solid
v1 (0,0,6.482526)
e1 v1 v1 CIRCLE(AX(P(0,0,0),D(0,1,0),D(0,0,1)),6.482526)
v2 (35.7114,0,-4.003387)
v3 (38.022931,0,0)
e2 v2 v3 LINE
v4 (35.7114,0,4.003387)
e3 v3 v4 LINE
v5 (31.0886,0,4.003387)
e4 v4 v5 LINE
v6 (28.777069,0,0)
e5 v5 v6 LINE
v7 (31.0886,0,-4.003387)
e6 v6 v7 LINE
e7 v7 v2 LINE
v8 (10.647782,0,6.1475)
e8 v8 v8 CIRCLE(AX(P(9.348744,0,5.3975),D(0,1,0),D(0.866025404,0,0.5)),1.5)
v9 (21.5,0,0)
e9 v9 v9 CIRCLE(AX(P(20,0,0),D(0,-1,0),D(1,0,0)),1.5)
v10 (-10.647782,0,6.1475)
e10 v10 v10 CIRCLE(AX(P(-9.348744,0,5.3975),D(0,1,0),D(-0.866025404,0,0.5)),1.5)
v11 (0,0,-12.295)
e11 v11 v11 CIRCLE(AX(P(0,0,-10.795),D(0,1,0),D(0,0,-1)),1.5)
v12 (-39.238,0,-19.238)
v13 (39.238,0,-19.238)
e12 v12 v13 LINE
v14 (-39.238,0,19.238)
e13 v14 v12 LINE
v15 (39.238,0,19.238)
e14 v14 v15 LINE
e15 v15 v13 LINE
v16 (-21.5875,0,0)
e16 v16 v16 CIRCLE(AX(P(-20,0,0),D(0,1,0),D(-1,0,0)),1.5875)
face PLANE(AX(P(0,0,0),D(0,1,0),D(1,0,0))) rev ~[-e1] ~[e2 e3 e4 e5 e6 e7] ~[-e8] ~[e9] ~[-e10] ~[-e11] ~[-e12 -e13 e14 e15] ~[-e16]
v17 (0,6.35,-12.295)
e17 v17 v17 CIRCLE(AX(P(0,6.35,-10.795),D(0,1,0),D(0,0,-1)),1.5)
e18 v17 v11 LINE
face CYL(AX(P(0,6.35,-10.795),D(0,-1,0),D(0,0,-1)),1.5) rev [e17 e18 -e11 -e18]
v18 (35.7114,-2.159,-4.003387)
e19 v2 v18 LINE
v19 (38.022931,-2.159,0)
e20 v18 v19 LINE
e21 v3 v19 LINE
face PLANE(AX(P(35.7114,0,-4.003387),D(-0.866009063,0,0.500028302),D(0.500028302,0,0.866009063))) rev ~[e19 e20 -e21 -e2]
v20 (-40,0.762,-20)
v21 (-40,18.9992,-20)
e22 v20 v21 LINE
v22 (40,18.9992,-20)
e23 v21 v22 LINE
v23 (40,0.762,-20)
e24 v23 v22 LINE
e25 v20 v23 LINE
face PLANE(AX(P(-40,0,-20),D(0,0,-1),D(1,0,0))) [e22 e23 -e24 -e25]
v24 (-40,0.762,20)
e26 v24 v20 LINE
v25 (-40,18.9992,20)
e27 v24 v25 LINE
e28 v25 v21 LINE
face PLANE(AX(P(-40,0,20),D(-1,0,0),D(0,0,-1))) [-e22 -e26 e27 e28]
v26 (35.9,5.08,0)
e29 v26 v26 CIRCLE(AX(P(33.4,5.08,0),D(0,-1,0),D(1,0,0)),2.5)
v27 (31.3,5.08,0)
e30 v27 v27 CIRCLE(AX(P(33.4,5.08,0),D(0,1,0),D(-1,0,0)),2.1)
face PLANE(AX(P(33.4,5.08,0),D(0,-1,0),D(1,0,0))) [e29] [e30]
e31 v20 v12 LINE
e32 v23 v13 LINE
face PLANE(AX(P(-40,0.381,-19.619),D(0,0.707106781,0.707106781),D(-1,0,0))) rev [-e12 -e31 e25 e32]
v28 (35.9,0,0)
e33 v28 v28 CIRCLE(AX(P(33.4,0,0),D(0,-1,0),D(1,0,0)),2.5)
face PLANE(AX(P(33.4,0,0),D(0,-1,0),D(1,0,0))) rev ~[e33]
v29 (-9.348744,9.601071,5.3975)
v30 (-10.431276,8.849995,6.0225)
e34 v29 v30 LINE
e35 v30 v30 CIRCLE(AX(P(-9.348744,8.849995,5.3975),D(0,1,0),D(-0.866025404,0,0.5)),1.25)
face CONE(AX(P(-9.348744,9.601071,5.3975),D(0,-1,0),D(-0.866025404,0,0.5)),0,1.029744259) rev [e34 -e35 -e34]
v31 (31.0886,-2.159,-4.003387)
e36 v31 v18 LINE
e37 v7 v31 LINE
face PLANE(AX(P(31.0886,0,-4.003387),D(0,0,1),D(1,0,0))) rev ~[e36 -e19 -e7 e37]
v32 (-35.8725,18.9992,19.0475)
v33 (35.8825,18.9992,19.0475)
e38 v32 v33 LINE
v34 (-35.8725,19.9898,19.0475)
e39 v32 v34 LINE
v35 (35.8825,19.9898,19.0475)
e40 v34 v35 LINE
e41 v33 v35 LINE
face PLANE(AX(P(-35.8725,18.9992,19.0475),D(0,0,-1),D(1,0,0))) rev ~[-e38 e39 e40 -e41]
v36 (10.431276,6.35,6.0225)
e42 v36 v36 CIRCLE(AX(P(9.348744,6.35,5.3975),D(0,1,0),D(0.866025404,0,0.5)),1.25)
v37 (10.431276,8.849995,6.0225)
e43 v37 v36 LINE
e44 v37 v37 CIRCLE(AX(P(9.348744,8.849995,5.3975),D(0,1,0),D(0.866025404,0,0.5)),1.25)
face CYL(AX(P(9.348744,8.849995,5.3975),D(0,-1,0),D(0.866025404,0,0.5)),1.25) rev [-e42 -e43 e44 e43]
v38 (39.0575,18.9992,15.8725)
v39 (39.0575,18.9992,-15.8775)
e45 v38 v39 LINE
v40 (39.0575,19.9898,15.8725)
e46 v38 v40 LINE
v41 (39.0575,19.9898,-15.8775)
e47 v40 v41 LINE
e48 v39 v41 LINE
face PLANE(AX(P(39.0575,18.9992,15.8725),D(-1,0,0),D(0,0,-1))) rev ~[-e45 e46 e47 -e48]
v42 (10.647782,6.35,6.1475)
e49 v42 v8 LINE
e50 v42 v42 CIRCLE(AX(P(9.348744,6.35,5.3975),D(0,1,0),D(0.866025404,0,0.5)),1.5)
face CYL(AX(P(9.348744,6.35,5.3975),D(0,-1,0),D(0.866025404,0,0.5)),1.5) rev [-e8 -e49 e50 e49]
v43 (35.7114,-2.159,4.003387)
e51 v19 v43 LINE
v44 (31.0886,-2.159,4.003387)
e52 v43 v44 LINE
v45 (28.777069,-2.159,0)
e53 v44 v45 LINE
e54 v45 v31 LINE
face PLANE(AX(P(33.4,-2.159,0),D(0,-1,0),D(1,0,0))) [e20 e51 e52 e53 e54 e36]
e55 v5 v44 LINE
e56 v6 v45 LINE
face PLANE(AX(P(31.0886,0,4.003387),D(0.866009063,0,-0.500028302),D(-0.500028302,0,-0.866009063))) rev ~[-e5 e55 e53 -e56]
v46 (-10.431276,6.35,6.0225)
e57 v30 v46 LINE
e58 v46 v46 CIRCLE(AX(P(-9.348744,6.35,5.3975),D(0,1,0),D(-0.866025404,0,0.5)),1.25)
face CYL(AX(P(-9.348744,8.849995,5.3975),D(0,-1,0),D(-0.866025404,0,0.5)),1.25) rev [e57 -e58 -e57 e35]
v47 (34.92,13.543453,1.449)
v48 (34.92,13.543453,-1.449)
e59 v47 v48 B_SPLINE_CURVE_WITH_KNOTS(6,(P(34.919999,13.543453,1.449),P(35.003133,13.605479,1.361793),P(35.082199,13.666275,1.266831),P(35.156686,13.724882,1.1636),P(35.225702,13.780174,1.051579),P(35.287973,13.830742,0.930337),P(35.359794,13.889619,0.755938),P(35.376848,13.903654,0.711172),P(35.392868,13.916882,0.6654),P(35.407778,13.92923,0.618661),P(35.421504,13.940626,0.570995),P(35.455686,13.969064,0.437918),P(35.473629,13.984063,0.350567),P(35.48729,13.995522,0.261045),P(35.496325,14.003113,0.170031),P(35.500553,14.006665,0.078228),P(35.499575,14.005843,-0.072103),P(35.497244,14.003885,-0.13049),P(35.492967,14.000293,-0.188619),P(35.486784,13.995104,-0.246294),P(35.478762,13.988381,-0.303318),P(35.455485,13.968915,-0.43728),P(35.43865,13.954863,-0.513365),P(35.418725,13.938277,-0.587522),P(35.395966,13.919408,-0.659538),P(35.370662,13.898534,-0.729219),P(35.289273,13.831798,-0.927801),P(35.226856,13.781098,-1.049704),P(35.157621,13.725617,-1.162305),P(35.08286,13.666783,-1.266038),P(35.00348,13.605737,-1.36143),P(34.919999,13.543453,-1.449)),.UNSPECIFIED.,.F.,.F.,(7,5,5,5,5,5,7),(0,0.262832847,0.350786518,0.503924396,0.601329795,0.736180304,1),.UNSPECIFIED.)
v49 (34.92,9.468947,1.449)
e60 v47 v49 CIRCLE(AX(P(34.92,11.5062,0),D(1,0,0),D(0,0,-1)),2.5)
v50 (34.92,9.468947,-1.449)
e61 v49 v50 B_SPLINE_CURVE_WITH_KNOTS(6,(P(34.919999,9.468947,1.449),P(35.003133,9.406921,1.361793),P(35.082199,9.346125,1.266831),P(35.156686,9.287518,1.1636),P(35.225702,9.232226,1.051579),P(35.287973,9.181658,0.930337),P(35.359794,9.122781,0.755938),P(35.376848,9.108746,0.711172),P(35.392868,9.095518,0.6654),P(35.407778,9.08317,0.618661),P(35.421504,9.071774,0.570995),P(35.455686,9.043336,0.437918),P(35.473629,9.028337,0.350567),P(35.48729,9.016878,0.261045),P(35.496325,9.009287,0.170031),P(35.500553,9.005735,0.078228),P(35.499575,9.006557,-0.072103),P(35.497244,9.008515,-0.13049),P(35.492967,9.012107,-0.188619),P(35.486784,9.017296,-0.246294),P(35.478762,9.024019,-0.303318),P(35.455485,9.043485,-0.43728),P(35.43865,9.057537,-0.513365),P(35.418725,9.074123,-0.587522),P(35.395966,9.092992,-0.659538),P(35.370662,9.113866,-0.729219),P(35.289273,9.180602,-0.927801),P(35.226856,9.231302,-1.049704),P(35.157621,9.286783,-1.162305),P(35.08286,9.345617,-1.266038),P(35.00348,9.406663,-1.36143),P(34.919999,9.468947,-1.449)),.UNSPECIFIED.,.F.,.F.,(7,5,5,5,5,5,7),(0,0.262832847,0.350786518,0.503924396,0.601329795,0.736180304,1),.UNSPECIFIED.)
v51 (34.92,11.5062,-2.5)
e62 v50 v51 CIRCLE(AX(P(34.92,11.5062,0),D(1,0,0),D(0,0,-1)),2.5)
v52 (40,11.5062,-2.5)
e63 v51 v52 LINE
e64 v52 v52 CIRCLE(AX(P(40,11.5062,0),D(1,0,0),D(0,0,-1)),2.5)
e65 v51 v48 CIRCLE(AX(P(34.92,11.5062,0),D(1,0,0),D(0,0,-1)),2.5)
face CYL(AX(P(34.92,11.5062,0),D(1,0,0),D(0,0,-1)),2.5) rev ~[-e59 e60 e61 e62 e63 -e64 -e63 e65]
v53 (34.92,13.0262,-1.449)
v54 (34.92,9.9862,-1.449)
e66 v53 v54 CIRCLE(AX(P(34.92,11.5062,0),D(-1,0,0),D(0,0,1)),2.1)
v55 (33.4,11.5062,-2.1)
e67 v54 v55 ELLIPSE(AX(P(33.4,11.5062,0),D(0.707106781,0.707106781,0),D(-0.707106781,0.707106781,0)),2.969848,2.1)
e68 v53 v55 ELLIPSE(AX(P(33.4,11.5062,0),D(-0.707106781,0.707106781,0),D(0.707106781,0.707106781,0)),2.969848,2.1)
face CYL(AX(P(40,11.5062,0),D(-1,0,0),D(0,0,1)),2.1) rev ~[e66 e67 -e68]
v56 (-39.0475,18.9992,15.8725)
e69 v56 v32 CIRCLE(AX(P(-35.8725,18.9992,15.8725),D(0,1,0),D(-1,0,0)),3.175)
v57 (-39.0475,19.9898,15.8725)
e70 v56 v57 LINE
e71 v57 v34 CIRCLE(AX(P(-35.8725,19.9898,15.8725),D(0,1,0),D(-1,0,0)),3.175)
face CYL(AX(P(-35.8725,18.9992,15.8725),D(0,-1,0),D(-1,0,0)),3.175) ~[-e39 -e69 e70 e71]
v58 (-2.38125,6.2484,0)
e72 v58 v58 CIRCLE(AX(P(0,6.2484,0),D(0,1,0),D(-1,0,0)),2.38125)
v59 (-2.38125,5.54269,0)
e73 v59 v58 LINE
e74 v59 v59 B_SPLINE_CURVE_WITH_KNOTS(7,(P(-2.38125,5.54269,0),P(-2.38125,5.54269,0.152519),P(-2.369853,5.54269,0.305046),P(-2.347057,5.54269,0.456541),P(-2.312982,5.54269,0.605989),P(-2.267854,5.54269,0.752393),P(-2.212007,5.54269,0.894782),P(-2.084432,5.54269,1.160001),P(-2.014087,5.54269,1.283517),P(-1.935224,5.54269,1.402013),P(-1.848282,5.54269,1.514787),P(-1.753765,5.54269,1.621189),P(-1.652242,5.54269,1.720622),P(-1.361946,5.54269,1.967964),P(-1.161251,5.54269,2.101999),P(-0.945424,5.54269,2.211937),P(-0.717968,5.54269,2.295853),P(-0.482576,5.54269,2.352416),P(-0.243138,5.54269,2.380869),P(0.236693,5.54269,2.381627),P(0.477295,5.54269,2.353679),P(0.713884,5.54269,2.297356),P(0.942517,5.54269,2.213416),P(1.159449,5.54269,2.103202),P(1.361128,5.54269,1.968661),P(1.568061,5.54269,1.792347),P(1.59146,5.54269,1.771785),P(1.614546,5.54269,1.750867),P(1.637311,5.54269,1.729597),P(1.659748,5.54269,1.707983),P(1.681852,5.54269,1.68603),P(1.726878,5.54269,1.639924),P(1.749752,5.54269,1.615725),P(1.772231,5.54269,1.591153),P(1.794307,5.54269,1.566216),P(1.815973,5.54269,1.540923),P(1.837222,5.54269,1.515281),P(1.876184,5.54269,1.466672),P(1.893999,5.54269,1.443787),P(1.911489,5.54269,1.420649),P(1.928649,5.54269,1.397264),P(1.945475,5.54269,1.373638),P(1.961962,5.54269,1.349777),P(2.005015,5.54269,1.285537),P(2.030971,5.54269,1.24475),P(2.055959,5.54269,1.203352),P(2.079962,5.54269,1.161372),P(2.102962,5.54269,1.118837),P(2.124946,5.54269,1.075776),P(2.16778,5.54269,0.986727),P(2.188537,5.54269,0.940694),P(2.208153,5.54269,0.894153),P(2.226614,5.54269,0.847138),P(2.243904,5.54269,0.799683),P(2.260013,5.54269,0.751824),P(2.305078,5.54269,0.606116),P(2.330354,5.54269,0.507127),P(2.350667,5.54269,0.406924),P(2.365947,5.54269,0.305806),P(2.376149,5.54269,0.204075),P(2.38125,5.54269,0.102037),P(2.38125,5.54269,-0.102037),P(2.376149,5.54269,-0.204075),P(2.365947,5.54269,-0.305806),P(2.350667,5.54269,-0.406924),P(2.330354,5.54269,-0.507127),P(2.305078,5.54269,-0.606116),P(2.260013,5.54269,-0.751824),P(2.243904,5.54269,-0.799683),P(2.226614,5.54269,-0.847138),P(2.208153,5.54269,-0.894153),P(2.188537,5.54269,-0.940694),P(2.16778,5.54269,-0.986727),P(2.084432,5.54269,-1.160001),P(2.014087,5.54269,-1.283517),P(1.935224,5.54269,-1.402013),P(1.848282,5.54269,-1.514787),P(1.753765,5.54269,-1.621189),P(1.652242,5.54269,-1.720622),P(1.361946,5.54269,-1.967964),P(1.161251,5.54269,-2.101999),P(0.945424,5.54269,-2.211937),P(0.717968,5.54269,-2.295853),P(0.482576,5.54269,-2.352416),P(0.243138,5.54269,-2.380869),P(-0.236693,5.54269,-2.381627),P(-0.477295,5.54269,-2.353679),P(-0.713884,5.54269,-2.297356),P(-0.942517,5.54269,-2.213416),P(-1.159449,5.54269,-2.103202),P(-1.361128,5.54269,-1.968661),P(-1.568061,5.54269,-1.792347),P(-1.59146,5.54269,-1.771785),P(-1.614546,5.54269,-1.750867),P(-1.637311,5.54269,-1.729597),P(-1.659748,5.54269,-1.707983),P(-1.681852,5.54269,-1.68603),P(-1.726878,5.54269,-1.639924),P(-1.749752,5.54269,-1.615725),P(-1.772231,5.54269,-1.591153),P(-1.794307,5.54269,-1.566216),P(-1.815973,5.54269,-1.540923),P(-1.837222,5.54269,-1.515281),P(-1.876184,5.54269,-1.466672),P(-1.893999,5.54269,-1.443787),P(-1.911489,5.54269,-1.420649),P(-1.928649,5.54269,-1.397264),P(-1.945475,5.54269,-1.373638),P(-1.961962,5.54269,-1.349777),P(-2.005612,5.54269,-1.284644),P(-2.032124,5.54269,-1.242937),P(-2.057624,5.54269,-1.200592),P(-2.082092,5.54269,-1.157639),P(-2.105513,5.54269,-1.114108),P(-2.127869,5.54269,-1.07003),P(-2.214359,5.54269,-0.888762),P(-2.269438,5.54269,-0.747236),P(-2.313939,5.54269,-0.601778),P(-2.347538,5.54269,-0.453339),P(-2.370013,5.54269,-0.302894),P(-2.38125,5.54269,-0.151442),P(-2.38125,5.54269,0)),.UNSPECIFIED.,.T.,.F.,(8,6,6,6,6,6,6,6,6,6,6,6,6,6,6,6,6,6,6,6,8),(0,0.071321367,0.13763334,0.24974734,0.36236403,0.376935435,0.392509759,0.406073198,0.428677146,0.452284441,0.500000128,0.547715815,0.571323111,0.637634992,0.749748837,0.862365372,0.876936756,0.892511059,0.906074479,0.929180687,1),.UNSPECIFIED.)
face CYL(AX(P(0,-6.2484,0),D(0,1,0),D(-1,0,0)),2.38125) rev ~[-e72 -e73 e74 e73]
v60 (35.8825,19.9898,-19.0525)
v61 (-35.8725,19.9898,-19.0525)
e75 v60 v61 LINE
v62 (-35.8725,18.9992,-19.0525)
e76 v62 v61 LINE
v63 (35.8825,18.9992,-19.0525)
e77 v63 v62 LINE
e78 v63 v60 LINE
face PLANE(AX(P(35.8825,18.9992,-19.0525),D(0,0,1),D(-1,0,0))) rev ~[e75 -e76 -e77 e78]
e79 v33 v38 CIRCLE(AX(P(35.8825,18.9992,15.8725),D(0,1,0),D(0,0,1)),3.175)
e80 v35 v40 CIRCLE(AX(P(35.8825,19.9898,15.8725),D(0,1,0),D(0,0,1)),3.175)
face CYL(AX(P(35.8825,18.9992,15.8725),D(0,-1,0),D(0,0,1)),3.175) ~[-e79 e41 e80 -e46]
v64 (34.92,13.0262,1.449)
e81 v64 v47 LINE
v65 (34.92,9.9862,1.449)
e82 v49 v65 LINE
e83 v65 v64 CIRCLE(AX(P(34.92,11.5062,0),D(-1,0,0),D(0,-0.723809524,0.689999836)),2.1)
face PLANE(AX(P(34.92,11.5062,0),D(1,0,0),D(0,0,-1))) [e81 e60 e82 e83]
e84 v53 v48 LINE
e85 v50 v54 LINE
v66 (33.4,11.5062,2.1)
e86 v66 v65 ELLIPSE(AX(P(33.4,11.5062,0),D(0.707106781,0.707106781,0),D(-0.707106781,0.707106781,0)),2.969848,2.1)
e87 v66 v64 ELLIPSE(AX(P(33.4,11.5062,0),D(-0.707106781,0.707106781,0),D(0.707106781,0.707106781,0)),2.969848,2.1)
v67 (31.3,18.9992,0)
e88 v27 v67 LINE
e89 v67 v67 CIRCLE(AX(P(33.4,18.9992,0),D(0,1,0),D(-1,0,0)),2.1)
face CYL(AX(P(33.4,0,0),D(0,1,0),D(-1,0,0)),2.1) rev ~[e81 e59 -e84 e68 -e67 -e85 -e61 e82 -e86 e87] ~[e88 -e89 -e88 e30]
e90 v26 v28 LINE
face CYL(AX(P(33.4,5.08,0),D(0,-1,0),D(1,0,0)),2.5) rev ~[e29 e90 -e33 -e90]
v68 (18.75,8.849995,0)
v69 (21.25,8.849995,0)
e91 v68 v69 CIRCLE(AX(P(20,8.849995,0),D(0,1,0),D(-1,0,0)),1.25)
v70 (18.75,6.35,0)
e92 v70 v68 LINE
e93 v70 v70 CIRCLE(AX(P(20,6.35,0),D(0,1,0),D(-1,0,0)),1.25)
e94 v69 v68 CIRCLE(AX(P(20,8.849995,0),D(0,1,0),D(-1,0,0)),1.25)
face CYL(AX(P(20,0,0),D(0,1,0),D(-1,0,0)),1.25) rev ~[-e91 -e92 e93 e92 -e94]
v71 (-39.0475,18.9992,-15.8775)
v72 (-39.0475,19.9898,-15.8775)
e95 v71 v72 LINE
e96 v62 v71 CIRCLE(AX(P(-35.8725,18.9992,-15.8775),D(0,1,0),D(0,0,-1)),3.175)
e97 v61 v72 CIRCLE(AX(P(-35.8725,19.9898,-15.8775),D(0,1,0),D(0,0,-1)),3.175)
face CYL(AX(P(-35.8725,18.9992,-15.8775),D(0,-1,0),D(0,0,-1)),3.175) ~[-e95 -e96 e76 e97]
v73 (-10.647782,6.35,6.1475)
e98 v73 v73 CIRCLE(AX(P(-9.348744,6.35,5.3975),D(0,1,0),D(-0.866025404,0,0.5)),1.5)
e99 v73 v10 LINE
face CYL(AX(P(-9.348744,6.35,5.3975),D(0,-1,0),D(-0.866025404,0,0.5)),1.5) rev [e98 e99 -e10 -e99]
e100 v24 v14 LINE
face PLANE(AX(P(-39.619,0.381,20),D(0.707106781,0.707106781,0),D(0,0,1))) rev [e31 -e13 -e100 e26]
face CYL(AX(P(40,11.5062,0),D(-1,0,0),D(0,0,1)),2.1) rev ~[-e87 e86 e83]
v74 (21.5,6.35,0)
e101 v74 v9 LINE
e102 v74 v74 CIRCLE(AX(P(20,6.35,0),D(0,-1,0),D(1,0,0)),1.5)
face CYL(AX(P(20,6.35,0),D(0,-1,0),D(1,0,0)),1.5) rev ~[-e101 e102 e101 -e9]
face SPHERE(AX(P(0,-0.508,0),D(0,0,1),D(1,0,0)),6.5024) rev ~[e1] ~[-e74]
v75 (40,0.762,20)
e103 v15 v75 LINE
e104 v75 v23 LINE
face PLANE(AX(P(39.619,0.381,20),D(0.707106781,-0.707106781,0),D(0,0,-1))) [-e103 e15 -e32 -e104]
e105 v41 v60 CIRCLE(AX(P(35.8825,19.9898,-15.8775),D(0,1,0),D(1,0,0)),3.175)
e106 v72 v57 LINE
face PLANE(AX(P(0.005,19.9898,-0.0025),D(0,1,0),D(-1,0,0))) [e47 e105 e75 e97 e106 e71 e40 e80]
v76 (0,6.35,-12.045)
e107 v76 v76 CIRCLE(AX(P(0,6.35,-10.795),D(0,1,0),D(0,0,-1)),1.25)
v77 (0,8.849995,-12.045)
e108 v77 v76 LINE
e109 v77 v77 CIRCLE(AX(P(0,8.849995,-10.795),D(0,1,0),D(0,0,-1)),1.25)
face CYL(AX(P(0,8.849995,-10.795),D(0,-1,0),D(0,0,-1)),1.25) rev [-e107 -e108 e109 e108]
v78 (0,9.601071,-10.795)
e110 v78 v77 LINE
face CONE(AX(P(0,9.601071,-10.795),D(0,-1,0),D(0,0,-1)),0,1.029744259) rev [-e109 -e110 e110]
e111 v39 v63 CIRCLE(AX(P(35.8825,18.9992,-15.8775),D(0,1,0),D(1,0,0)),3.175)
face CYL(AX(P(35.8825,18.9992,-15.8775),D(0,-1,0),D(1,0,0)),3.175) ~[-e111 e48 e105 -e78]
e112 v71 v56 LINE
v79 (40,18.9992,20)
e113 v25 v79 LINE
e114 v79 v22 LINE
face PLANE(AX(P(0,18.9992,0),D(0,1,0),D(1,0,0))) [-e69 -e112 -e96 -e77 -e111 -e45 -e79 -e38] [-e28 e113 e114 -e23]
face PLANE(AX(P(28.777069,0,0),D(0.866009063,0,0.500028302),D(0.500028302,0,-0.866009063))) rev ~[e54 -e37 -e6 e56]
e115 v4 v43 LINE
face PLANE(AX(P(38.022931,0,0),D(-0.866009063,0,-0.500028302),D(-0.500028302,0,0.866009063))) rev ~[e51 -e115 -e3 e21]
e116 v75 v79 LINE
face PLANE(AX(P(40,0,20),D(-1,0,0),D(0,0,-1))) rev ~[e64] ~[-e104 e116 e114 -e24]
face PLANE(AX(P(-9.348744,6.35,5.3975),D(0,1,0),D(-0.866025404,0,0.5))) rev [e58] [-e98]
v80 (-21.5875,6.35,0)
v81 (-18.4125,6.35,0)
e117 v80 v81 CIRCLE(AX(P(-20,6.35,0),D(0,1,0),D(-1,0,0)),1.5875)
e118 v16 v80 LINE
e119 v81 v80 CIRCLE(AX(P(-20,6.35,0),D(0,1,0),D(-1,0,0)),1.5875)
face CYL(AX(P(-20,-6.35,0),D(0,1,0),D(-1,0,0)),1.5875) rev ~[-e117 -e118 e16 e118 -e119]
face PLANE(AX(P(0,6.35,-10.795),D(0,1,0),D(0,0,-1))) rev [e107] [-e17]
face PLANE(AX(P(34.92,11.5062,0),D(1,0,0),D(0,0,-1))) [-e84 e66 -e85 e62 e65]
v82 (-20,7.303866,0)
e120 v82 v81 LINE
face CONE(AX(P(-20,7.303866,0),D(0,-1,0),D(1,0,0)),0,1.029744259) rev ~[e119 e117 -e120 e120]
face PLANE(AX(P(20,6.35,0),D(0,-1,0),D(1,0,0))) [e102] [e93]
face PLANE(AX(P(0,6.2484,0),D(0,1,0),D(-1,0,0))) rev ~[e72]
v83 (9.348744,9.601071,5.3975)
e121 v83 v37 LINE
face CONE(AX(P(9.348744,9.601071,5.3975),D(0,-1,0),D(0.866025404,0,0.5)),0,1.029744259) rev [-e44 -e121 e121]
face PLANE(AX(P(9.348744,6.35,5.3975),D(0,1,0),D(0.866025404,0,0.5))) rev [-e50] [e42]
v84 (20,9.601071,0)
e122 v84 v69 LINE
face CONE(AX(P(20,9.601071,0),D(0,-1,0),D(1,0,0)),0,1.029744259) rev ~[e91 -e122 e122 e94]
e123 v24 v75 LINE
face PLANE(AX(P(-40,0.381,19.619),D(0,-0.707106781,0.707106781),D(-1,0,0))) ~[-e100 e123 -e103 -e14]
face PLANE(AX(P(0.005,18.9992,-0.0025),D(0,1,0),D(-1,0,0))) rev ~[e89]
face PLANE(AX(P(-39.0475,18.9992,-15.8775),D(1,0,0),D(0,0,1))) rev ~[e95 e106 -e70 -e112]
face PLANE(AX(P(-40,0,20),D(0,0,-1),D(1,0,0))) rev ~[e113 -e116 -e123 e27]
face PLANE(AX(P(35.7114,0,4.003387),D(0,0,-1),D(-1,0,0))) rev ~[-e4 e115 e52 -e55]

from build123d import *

# Parameters (mm, degrees)
SKETCH1_W                          = 80
SKETCH1_H                          = 40
EXTRUDE1_DEPTH                     = 18.9992
F_1_8_0_125_DIAMETER_HOLE1_D       = 3.175
F_1_8_0_125_DIAMETER_HOLE1_DEPTH   = 6.35
F_1_8_0_125_DIAMETER_HOLE1_TIP     = 0.953866233
M3X0_5_TAPPED_HOLE1_D              = 2.5
M3X0_5_TAPPED_HOLE1_DEPTH          = 8.849995
M3X0_5_TAPPED_HOLE1_CBORE_D        = 3
M3X0_5_TAPPED_HOLE1_CBORE_DEPTH    = 6.35
M3X0_5_TAPPED_HOLE1_TIP            = 0.751075774
M5X0_8_TAPPED_HOLE1_D              = 4.2
M5X0_8_TAPPED_HOLE1_CBORE_D        = 5
M5X0_8_TAPPED_HOLE1_CBORE_DEPTH    = 5.08
F_3_16_0_1875_DIAMETER_HOLE1_D     = 4.7625
F_3_16_0_1875_DIAMETER_HOLE1_DEPTH = 6.2484
CUT_REVOLVE1_ANGLE                 = 180
M5X0_8_TAPPED_HOLE2_D              = 4.2
M5X0_8_TAPPED_HOLE2_DEPTH          = 6.6
M5X0_8_TAPPED_HOLE2_CBORE_D        = 5
M5X0_8_TAPPED_HOLE2_CBORE_DEPTH    = 5.08
CIRPATTERN1_COUNT                  = 3
CHAMFER1_SIZE                      = 0.762
EXTRUDE2_DEPTH                     = 0.9906
EXTRUDE3_DEPTH                     = 2.159


with BuildPart() as part:
    # Sketch1 → Extrude1 (new body)
    with BuildSketch(Plane(origin=(0, 0, 0), x_dir=(1, 0, 0), z_dir=(0, 1, 0))):
        Rectangle(SKETCH1_W, SKETCH1_H)
    extrude(amount=EXTRUDE1_DEPTH)

    # 1_8 _0.125_ Diameter Hole1
    with Locations(Plane.XZ):
        with Locations((-20, 0)):
            Hole(F_1_8_0_125_DIAMETER_HOLE1_D / 2, depth=F_1_8_0_125_DIAMETER_HOLE1_DEPTH)
            with Locations((0, 0, -(F_1_8_0_125_DIAMETER_HOLE1_DEPTH + F_1_8_0_125_DIAMETER_HOLE1_TIP / 2))):  # 118° drill point
                Cone(0, F_1_8_0_125_DIAMETER_HOLE1_D / 2, F_1_8_0_125_DIAMETER_HOLE1_TIP, mode=Mode.SUBTRACT)

    # M3x0.5 Tapped Hole1
    with Locations(Plane.XZ):
        with Locations((20, 0)):
            CounterBoreHole(M3X0_5_TAPPED_HOLE1_D / 2, M3X0_5_TAPPED_HOLE1_CBORE_D / 2, M3X0_5_TAPPED_HOLE1_CBORE_DEPTH, depth=M3X0_5_TAPPED_HOLE1_DEPTH)
            with Locations((0, 0, -(M3X0_5_TAPPED_HOLE1_DEPTH + M3X0_5_TAPPED_HOLE1_TIP / 2))):  # 118° drill point
                Cone(0, M3X0_5_TAPPED_HOLE1_D / 2, M3X0_5_TAPPED_HOLE1_TIP, mode=Mode.SUBTRACT)

    # M5x0.8 Tapped Hole1 (through all)
    with Locations(Plane.XZ):
        with Locations((33.4, 0)):
            CounterBoreHole(M5X0_8_TAPPED_HOLE1_D / 2, M5X0_8_TAPPED_HOLE1_CBORE_D / 2, M5X0_8_TAPPED_HOLE1_CBORE_DEPTH)

    # 3_16 _0.1875_ Diameter Hole1
    with Locations(Plane.XZ):
        with Locations((0, 0)):
            Hole(F_3_16_0_1875_DIAMETER_HOLE1_D / 2, depth=F_3_16_0_1875_DIAMETER_HOLE1_DEPTH)

    # Sketch12 → Cut-Revolve1 (revolve, cut)
    with BuildSketch(Plane.XZ.offset(0.508)):
        with BuildLine():
            Line((0, 6.5024), (0, -6.5024))
            ThreePointArc((0, -6.5024), (6.5024, 0), (0, 6.5024))
        make_face()
    revolve(axis=Axis((0, -0.508, 6.5024), (0, 0, 1)), revolution_arc=CUT_REVOLVE1_ANGLE, mode=Mode.SUBTRACT)

    # M5x0.8 Tapped Hole2
    with Locations(Plane(origin=(40, 0, 0), x_dir=(0, 0, -1), z_dir=(1, 0, 0))):
        with Locations((0, 11.5062)):
            CounterBoreHole(M5X0_8_TAPPED_HOLE2_D / 2, M5X0_8_TAPPED_HOLE2_CBORE_D / 2, M5X0_8_TAPPED_HOLE2_CBORE_DEPTH, depth=M5X0_8_TAPPED_HOLE2_DEPTH)

    # Sketch15 → M3x0.5 Tapped Hole2 (revolve, cut)
    with BuildSketch(Plane(origin=(0, 0, -10.795), x_dir=(0, 0, -1), z_dir=(1, 0, 0))):
        Polygon((0, 0), (0, 9.601070774), (1.25, 8.849995), (1.25, 6.35), (1.5, 6.35), (1.5, 0), align=None)
    m3x0_5_tapped_hole2 = revolve(axis=Axis((0, -6.35, -10.795), (0, 1, 0)), mode=Mode.SUBTRACT)

    # CirPattern1: M3x0.5 Tapped Hole2 ×3 about axis
    cirpattern1_axis = Axis((0, 0, 0), (0, 1, 0))
    for i in range(1, CIRPATTERN1_COUNT):
        add(m3x0_5_tapped_hole2.rotate(cirpattern1_axis, i * 360 / CIRPATTERN1_COUNT), mode=Mode.SUBTRACT)

    # Chamfer1
    chamfer1_edges = [part.edges().sort_by_distance(p)[0] for p in [
        (0, 0, -20),
        (40, 0, 0),
        (0, 0, 20),
        (-40, 0, 0),
    ]]
    chamfer(chamfer1_edges, length=CHAMFER1_SIZE)

    # Sketch2 → Extrude2 (add)
    with BuildSketch(Plane(origin=(0, 18.9992, 0), x_dir=(-1, 0, 0), z_dir=(0, 1, 0))):
        with BuildLine():
            Line((35.8725, 19.0475), (-35.8825, 19.0475))
            ThreePointArc((-35.8825, 19.0475), (-38.12756403, 18.11756403), (-39.0575, 15.8725))
            Line((-39.0575, 15.8725), (-39.0575, -15.8775))
            ThreePointArc((-39.0575, -15.8775), (-38.12756403, -18.12256403), (-35.8825, -19.0525))
            Line((-35.8825, -19.0525), (35.8725, -19.0525))
            ThreePointArc((35.8725, -19.0525), (38.11756403, -18.12256403), (39.0475, -15.8775))
            Line((39.0475, -15.8775), (39.0475, 15.8725))
            ThreePointArc((39.0475, 15.8725), (38.11756403, 18.11756403), (35.8725, 19.0475))
        make_face()
    extrude(amount=EXTRUDE2_DEPTH)

    # Sketch17 → Extrude3 (add)
    with BuildSketch(Plane.XZ):
        Polygon((31.0886, -4.003386697), (35.7114, -4.003386697), (38.022930833, 0), (35.7114, 4.003386697), (31.0886, 4.003386697), (28.777069167, 0), align=None)
    extrude(amount=EXTRUDE3_DEPTH)


solid = part.part
